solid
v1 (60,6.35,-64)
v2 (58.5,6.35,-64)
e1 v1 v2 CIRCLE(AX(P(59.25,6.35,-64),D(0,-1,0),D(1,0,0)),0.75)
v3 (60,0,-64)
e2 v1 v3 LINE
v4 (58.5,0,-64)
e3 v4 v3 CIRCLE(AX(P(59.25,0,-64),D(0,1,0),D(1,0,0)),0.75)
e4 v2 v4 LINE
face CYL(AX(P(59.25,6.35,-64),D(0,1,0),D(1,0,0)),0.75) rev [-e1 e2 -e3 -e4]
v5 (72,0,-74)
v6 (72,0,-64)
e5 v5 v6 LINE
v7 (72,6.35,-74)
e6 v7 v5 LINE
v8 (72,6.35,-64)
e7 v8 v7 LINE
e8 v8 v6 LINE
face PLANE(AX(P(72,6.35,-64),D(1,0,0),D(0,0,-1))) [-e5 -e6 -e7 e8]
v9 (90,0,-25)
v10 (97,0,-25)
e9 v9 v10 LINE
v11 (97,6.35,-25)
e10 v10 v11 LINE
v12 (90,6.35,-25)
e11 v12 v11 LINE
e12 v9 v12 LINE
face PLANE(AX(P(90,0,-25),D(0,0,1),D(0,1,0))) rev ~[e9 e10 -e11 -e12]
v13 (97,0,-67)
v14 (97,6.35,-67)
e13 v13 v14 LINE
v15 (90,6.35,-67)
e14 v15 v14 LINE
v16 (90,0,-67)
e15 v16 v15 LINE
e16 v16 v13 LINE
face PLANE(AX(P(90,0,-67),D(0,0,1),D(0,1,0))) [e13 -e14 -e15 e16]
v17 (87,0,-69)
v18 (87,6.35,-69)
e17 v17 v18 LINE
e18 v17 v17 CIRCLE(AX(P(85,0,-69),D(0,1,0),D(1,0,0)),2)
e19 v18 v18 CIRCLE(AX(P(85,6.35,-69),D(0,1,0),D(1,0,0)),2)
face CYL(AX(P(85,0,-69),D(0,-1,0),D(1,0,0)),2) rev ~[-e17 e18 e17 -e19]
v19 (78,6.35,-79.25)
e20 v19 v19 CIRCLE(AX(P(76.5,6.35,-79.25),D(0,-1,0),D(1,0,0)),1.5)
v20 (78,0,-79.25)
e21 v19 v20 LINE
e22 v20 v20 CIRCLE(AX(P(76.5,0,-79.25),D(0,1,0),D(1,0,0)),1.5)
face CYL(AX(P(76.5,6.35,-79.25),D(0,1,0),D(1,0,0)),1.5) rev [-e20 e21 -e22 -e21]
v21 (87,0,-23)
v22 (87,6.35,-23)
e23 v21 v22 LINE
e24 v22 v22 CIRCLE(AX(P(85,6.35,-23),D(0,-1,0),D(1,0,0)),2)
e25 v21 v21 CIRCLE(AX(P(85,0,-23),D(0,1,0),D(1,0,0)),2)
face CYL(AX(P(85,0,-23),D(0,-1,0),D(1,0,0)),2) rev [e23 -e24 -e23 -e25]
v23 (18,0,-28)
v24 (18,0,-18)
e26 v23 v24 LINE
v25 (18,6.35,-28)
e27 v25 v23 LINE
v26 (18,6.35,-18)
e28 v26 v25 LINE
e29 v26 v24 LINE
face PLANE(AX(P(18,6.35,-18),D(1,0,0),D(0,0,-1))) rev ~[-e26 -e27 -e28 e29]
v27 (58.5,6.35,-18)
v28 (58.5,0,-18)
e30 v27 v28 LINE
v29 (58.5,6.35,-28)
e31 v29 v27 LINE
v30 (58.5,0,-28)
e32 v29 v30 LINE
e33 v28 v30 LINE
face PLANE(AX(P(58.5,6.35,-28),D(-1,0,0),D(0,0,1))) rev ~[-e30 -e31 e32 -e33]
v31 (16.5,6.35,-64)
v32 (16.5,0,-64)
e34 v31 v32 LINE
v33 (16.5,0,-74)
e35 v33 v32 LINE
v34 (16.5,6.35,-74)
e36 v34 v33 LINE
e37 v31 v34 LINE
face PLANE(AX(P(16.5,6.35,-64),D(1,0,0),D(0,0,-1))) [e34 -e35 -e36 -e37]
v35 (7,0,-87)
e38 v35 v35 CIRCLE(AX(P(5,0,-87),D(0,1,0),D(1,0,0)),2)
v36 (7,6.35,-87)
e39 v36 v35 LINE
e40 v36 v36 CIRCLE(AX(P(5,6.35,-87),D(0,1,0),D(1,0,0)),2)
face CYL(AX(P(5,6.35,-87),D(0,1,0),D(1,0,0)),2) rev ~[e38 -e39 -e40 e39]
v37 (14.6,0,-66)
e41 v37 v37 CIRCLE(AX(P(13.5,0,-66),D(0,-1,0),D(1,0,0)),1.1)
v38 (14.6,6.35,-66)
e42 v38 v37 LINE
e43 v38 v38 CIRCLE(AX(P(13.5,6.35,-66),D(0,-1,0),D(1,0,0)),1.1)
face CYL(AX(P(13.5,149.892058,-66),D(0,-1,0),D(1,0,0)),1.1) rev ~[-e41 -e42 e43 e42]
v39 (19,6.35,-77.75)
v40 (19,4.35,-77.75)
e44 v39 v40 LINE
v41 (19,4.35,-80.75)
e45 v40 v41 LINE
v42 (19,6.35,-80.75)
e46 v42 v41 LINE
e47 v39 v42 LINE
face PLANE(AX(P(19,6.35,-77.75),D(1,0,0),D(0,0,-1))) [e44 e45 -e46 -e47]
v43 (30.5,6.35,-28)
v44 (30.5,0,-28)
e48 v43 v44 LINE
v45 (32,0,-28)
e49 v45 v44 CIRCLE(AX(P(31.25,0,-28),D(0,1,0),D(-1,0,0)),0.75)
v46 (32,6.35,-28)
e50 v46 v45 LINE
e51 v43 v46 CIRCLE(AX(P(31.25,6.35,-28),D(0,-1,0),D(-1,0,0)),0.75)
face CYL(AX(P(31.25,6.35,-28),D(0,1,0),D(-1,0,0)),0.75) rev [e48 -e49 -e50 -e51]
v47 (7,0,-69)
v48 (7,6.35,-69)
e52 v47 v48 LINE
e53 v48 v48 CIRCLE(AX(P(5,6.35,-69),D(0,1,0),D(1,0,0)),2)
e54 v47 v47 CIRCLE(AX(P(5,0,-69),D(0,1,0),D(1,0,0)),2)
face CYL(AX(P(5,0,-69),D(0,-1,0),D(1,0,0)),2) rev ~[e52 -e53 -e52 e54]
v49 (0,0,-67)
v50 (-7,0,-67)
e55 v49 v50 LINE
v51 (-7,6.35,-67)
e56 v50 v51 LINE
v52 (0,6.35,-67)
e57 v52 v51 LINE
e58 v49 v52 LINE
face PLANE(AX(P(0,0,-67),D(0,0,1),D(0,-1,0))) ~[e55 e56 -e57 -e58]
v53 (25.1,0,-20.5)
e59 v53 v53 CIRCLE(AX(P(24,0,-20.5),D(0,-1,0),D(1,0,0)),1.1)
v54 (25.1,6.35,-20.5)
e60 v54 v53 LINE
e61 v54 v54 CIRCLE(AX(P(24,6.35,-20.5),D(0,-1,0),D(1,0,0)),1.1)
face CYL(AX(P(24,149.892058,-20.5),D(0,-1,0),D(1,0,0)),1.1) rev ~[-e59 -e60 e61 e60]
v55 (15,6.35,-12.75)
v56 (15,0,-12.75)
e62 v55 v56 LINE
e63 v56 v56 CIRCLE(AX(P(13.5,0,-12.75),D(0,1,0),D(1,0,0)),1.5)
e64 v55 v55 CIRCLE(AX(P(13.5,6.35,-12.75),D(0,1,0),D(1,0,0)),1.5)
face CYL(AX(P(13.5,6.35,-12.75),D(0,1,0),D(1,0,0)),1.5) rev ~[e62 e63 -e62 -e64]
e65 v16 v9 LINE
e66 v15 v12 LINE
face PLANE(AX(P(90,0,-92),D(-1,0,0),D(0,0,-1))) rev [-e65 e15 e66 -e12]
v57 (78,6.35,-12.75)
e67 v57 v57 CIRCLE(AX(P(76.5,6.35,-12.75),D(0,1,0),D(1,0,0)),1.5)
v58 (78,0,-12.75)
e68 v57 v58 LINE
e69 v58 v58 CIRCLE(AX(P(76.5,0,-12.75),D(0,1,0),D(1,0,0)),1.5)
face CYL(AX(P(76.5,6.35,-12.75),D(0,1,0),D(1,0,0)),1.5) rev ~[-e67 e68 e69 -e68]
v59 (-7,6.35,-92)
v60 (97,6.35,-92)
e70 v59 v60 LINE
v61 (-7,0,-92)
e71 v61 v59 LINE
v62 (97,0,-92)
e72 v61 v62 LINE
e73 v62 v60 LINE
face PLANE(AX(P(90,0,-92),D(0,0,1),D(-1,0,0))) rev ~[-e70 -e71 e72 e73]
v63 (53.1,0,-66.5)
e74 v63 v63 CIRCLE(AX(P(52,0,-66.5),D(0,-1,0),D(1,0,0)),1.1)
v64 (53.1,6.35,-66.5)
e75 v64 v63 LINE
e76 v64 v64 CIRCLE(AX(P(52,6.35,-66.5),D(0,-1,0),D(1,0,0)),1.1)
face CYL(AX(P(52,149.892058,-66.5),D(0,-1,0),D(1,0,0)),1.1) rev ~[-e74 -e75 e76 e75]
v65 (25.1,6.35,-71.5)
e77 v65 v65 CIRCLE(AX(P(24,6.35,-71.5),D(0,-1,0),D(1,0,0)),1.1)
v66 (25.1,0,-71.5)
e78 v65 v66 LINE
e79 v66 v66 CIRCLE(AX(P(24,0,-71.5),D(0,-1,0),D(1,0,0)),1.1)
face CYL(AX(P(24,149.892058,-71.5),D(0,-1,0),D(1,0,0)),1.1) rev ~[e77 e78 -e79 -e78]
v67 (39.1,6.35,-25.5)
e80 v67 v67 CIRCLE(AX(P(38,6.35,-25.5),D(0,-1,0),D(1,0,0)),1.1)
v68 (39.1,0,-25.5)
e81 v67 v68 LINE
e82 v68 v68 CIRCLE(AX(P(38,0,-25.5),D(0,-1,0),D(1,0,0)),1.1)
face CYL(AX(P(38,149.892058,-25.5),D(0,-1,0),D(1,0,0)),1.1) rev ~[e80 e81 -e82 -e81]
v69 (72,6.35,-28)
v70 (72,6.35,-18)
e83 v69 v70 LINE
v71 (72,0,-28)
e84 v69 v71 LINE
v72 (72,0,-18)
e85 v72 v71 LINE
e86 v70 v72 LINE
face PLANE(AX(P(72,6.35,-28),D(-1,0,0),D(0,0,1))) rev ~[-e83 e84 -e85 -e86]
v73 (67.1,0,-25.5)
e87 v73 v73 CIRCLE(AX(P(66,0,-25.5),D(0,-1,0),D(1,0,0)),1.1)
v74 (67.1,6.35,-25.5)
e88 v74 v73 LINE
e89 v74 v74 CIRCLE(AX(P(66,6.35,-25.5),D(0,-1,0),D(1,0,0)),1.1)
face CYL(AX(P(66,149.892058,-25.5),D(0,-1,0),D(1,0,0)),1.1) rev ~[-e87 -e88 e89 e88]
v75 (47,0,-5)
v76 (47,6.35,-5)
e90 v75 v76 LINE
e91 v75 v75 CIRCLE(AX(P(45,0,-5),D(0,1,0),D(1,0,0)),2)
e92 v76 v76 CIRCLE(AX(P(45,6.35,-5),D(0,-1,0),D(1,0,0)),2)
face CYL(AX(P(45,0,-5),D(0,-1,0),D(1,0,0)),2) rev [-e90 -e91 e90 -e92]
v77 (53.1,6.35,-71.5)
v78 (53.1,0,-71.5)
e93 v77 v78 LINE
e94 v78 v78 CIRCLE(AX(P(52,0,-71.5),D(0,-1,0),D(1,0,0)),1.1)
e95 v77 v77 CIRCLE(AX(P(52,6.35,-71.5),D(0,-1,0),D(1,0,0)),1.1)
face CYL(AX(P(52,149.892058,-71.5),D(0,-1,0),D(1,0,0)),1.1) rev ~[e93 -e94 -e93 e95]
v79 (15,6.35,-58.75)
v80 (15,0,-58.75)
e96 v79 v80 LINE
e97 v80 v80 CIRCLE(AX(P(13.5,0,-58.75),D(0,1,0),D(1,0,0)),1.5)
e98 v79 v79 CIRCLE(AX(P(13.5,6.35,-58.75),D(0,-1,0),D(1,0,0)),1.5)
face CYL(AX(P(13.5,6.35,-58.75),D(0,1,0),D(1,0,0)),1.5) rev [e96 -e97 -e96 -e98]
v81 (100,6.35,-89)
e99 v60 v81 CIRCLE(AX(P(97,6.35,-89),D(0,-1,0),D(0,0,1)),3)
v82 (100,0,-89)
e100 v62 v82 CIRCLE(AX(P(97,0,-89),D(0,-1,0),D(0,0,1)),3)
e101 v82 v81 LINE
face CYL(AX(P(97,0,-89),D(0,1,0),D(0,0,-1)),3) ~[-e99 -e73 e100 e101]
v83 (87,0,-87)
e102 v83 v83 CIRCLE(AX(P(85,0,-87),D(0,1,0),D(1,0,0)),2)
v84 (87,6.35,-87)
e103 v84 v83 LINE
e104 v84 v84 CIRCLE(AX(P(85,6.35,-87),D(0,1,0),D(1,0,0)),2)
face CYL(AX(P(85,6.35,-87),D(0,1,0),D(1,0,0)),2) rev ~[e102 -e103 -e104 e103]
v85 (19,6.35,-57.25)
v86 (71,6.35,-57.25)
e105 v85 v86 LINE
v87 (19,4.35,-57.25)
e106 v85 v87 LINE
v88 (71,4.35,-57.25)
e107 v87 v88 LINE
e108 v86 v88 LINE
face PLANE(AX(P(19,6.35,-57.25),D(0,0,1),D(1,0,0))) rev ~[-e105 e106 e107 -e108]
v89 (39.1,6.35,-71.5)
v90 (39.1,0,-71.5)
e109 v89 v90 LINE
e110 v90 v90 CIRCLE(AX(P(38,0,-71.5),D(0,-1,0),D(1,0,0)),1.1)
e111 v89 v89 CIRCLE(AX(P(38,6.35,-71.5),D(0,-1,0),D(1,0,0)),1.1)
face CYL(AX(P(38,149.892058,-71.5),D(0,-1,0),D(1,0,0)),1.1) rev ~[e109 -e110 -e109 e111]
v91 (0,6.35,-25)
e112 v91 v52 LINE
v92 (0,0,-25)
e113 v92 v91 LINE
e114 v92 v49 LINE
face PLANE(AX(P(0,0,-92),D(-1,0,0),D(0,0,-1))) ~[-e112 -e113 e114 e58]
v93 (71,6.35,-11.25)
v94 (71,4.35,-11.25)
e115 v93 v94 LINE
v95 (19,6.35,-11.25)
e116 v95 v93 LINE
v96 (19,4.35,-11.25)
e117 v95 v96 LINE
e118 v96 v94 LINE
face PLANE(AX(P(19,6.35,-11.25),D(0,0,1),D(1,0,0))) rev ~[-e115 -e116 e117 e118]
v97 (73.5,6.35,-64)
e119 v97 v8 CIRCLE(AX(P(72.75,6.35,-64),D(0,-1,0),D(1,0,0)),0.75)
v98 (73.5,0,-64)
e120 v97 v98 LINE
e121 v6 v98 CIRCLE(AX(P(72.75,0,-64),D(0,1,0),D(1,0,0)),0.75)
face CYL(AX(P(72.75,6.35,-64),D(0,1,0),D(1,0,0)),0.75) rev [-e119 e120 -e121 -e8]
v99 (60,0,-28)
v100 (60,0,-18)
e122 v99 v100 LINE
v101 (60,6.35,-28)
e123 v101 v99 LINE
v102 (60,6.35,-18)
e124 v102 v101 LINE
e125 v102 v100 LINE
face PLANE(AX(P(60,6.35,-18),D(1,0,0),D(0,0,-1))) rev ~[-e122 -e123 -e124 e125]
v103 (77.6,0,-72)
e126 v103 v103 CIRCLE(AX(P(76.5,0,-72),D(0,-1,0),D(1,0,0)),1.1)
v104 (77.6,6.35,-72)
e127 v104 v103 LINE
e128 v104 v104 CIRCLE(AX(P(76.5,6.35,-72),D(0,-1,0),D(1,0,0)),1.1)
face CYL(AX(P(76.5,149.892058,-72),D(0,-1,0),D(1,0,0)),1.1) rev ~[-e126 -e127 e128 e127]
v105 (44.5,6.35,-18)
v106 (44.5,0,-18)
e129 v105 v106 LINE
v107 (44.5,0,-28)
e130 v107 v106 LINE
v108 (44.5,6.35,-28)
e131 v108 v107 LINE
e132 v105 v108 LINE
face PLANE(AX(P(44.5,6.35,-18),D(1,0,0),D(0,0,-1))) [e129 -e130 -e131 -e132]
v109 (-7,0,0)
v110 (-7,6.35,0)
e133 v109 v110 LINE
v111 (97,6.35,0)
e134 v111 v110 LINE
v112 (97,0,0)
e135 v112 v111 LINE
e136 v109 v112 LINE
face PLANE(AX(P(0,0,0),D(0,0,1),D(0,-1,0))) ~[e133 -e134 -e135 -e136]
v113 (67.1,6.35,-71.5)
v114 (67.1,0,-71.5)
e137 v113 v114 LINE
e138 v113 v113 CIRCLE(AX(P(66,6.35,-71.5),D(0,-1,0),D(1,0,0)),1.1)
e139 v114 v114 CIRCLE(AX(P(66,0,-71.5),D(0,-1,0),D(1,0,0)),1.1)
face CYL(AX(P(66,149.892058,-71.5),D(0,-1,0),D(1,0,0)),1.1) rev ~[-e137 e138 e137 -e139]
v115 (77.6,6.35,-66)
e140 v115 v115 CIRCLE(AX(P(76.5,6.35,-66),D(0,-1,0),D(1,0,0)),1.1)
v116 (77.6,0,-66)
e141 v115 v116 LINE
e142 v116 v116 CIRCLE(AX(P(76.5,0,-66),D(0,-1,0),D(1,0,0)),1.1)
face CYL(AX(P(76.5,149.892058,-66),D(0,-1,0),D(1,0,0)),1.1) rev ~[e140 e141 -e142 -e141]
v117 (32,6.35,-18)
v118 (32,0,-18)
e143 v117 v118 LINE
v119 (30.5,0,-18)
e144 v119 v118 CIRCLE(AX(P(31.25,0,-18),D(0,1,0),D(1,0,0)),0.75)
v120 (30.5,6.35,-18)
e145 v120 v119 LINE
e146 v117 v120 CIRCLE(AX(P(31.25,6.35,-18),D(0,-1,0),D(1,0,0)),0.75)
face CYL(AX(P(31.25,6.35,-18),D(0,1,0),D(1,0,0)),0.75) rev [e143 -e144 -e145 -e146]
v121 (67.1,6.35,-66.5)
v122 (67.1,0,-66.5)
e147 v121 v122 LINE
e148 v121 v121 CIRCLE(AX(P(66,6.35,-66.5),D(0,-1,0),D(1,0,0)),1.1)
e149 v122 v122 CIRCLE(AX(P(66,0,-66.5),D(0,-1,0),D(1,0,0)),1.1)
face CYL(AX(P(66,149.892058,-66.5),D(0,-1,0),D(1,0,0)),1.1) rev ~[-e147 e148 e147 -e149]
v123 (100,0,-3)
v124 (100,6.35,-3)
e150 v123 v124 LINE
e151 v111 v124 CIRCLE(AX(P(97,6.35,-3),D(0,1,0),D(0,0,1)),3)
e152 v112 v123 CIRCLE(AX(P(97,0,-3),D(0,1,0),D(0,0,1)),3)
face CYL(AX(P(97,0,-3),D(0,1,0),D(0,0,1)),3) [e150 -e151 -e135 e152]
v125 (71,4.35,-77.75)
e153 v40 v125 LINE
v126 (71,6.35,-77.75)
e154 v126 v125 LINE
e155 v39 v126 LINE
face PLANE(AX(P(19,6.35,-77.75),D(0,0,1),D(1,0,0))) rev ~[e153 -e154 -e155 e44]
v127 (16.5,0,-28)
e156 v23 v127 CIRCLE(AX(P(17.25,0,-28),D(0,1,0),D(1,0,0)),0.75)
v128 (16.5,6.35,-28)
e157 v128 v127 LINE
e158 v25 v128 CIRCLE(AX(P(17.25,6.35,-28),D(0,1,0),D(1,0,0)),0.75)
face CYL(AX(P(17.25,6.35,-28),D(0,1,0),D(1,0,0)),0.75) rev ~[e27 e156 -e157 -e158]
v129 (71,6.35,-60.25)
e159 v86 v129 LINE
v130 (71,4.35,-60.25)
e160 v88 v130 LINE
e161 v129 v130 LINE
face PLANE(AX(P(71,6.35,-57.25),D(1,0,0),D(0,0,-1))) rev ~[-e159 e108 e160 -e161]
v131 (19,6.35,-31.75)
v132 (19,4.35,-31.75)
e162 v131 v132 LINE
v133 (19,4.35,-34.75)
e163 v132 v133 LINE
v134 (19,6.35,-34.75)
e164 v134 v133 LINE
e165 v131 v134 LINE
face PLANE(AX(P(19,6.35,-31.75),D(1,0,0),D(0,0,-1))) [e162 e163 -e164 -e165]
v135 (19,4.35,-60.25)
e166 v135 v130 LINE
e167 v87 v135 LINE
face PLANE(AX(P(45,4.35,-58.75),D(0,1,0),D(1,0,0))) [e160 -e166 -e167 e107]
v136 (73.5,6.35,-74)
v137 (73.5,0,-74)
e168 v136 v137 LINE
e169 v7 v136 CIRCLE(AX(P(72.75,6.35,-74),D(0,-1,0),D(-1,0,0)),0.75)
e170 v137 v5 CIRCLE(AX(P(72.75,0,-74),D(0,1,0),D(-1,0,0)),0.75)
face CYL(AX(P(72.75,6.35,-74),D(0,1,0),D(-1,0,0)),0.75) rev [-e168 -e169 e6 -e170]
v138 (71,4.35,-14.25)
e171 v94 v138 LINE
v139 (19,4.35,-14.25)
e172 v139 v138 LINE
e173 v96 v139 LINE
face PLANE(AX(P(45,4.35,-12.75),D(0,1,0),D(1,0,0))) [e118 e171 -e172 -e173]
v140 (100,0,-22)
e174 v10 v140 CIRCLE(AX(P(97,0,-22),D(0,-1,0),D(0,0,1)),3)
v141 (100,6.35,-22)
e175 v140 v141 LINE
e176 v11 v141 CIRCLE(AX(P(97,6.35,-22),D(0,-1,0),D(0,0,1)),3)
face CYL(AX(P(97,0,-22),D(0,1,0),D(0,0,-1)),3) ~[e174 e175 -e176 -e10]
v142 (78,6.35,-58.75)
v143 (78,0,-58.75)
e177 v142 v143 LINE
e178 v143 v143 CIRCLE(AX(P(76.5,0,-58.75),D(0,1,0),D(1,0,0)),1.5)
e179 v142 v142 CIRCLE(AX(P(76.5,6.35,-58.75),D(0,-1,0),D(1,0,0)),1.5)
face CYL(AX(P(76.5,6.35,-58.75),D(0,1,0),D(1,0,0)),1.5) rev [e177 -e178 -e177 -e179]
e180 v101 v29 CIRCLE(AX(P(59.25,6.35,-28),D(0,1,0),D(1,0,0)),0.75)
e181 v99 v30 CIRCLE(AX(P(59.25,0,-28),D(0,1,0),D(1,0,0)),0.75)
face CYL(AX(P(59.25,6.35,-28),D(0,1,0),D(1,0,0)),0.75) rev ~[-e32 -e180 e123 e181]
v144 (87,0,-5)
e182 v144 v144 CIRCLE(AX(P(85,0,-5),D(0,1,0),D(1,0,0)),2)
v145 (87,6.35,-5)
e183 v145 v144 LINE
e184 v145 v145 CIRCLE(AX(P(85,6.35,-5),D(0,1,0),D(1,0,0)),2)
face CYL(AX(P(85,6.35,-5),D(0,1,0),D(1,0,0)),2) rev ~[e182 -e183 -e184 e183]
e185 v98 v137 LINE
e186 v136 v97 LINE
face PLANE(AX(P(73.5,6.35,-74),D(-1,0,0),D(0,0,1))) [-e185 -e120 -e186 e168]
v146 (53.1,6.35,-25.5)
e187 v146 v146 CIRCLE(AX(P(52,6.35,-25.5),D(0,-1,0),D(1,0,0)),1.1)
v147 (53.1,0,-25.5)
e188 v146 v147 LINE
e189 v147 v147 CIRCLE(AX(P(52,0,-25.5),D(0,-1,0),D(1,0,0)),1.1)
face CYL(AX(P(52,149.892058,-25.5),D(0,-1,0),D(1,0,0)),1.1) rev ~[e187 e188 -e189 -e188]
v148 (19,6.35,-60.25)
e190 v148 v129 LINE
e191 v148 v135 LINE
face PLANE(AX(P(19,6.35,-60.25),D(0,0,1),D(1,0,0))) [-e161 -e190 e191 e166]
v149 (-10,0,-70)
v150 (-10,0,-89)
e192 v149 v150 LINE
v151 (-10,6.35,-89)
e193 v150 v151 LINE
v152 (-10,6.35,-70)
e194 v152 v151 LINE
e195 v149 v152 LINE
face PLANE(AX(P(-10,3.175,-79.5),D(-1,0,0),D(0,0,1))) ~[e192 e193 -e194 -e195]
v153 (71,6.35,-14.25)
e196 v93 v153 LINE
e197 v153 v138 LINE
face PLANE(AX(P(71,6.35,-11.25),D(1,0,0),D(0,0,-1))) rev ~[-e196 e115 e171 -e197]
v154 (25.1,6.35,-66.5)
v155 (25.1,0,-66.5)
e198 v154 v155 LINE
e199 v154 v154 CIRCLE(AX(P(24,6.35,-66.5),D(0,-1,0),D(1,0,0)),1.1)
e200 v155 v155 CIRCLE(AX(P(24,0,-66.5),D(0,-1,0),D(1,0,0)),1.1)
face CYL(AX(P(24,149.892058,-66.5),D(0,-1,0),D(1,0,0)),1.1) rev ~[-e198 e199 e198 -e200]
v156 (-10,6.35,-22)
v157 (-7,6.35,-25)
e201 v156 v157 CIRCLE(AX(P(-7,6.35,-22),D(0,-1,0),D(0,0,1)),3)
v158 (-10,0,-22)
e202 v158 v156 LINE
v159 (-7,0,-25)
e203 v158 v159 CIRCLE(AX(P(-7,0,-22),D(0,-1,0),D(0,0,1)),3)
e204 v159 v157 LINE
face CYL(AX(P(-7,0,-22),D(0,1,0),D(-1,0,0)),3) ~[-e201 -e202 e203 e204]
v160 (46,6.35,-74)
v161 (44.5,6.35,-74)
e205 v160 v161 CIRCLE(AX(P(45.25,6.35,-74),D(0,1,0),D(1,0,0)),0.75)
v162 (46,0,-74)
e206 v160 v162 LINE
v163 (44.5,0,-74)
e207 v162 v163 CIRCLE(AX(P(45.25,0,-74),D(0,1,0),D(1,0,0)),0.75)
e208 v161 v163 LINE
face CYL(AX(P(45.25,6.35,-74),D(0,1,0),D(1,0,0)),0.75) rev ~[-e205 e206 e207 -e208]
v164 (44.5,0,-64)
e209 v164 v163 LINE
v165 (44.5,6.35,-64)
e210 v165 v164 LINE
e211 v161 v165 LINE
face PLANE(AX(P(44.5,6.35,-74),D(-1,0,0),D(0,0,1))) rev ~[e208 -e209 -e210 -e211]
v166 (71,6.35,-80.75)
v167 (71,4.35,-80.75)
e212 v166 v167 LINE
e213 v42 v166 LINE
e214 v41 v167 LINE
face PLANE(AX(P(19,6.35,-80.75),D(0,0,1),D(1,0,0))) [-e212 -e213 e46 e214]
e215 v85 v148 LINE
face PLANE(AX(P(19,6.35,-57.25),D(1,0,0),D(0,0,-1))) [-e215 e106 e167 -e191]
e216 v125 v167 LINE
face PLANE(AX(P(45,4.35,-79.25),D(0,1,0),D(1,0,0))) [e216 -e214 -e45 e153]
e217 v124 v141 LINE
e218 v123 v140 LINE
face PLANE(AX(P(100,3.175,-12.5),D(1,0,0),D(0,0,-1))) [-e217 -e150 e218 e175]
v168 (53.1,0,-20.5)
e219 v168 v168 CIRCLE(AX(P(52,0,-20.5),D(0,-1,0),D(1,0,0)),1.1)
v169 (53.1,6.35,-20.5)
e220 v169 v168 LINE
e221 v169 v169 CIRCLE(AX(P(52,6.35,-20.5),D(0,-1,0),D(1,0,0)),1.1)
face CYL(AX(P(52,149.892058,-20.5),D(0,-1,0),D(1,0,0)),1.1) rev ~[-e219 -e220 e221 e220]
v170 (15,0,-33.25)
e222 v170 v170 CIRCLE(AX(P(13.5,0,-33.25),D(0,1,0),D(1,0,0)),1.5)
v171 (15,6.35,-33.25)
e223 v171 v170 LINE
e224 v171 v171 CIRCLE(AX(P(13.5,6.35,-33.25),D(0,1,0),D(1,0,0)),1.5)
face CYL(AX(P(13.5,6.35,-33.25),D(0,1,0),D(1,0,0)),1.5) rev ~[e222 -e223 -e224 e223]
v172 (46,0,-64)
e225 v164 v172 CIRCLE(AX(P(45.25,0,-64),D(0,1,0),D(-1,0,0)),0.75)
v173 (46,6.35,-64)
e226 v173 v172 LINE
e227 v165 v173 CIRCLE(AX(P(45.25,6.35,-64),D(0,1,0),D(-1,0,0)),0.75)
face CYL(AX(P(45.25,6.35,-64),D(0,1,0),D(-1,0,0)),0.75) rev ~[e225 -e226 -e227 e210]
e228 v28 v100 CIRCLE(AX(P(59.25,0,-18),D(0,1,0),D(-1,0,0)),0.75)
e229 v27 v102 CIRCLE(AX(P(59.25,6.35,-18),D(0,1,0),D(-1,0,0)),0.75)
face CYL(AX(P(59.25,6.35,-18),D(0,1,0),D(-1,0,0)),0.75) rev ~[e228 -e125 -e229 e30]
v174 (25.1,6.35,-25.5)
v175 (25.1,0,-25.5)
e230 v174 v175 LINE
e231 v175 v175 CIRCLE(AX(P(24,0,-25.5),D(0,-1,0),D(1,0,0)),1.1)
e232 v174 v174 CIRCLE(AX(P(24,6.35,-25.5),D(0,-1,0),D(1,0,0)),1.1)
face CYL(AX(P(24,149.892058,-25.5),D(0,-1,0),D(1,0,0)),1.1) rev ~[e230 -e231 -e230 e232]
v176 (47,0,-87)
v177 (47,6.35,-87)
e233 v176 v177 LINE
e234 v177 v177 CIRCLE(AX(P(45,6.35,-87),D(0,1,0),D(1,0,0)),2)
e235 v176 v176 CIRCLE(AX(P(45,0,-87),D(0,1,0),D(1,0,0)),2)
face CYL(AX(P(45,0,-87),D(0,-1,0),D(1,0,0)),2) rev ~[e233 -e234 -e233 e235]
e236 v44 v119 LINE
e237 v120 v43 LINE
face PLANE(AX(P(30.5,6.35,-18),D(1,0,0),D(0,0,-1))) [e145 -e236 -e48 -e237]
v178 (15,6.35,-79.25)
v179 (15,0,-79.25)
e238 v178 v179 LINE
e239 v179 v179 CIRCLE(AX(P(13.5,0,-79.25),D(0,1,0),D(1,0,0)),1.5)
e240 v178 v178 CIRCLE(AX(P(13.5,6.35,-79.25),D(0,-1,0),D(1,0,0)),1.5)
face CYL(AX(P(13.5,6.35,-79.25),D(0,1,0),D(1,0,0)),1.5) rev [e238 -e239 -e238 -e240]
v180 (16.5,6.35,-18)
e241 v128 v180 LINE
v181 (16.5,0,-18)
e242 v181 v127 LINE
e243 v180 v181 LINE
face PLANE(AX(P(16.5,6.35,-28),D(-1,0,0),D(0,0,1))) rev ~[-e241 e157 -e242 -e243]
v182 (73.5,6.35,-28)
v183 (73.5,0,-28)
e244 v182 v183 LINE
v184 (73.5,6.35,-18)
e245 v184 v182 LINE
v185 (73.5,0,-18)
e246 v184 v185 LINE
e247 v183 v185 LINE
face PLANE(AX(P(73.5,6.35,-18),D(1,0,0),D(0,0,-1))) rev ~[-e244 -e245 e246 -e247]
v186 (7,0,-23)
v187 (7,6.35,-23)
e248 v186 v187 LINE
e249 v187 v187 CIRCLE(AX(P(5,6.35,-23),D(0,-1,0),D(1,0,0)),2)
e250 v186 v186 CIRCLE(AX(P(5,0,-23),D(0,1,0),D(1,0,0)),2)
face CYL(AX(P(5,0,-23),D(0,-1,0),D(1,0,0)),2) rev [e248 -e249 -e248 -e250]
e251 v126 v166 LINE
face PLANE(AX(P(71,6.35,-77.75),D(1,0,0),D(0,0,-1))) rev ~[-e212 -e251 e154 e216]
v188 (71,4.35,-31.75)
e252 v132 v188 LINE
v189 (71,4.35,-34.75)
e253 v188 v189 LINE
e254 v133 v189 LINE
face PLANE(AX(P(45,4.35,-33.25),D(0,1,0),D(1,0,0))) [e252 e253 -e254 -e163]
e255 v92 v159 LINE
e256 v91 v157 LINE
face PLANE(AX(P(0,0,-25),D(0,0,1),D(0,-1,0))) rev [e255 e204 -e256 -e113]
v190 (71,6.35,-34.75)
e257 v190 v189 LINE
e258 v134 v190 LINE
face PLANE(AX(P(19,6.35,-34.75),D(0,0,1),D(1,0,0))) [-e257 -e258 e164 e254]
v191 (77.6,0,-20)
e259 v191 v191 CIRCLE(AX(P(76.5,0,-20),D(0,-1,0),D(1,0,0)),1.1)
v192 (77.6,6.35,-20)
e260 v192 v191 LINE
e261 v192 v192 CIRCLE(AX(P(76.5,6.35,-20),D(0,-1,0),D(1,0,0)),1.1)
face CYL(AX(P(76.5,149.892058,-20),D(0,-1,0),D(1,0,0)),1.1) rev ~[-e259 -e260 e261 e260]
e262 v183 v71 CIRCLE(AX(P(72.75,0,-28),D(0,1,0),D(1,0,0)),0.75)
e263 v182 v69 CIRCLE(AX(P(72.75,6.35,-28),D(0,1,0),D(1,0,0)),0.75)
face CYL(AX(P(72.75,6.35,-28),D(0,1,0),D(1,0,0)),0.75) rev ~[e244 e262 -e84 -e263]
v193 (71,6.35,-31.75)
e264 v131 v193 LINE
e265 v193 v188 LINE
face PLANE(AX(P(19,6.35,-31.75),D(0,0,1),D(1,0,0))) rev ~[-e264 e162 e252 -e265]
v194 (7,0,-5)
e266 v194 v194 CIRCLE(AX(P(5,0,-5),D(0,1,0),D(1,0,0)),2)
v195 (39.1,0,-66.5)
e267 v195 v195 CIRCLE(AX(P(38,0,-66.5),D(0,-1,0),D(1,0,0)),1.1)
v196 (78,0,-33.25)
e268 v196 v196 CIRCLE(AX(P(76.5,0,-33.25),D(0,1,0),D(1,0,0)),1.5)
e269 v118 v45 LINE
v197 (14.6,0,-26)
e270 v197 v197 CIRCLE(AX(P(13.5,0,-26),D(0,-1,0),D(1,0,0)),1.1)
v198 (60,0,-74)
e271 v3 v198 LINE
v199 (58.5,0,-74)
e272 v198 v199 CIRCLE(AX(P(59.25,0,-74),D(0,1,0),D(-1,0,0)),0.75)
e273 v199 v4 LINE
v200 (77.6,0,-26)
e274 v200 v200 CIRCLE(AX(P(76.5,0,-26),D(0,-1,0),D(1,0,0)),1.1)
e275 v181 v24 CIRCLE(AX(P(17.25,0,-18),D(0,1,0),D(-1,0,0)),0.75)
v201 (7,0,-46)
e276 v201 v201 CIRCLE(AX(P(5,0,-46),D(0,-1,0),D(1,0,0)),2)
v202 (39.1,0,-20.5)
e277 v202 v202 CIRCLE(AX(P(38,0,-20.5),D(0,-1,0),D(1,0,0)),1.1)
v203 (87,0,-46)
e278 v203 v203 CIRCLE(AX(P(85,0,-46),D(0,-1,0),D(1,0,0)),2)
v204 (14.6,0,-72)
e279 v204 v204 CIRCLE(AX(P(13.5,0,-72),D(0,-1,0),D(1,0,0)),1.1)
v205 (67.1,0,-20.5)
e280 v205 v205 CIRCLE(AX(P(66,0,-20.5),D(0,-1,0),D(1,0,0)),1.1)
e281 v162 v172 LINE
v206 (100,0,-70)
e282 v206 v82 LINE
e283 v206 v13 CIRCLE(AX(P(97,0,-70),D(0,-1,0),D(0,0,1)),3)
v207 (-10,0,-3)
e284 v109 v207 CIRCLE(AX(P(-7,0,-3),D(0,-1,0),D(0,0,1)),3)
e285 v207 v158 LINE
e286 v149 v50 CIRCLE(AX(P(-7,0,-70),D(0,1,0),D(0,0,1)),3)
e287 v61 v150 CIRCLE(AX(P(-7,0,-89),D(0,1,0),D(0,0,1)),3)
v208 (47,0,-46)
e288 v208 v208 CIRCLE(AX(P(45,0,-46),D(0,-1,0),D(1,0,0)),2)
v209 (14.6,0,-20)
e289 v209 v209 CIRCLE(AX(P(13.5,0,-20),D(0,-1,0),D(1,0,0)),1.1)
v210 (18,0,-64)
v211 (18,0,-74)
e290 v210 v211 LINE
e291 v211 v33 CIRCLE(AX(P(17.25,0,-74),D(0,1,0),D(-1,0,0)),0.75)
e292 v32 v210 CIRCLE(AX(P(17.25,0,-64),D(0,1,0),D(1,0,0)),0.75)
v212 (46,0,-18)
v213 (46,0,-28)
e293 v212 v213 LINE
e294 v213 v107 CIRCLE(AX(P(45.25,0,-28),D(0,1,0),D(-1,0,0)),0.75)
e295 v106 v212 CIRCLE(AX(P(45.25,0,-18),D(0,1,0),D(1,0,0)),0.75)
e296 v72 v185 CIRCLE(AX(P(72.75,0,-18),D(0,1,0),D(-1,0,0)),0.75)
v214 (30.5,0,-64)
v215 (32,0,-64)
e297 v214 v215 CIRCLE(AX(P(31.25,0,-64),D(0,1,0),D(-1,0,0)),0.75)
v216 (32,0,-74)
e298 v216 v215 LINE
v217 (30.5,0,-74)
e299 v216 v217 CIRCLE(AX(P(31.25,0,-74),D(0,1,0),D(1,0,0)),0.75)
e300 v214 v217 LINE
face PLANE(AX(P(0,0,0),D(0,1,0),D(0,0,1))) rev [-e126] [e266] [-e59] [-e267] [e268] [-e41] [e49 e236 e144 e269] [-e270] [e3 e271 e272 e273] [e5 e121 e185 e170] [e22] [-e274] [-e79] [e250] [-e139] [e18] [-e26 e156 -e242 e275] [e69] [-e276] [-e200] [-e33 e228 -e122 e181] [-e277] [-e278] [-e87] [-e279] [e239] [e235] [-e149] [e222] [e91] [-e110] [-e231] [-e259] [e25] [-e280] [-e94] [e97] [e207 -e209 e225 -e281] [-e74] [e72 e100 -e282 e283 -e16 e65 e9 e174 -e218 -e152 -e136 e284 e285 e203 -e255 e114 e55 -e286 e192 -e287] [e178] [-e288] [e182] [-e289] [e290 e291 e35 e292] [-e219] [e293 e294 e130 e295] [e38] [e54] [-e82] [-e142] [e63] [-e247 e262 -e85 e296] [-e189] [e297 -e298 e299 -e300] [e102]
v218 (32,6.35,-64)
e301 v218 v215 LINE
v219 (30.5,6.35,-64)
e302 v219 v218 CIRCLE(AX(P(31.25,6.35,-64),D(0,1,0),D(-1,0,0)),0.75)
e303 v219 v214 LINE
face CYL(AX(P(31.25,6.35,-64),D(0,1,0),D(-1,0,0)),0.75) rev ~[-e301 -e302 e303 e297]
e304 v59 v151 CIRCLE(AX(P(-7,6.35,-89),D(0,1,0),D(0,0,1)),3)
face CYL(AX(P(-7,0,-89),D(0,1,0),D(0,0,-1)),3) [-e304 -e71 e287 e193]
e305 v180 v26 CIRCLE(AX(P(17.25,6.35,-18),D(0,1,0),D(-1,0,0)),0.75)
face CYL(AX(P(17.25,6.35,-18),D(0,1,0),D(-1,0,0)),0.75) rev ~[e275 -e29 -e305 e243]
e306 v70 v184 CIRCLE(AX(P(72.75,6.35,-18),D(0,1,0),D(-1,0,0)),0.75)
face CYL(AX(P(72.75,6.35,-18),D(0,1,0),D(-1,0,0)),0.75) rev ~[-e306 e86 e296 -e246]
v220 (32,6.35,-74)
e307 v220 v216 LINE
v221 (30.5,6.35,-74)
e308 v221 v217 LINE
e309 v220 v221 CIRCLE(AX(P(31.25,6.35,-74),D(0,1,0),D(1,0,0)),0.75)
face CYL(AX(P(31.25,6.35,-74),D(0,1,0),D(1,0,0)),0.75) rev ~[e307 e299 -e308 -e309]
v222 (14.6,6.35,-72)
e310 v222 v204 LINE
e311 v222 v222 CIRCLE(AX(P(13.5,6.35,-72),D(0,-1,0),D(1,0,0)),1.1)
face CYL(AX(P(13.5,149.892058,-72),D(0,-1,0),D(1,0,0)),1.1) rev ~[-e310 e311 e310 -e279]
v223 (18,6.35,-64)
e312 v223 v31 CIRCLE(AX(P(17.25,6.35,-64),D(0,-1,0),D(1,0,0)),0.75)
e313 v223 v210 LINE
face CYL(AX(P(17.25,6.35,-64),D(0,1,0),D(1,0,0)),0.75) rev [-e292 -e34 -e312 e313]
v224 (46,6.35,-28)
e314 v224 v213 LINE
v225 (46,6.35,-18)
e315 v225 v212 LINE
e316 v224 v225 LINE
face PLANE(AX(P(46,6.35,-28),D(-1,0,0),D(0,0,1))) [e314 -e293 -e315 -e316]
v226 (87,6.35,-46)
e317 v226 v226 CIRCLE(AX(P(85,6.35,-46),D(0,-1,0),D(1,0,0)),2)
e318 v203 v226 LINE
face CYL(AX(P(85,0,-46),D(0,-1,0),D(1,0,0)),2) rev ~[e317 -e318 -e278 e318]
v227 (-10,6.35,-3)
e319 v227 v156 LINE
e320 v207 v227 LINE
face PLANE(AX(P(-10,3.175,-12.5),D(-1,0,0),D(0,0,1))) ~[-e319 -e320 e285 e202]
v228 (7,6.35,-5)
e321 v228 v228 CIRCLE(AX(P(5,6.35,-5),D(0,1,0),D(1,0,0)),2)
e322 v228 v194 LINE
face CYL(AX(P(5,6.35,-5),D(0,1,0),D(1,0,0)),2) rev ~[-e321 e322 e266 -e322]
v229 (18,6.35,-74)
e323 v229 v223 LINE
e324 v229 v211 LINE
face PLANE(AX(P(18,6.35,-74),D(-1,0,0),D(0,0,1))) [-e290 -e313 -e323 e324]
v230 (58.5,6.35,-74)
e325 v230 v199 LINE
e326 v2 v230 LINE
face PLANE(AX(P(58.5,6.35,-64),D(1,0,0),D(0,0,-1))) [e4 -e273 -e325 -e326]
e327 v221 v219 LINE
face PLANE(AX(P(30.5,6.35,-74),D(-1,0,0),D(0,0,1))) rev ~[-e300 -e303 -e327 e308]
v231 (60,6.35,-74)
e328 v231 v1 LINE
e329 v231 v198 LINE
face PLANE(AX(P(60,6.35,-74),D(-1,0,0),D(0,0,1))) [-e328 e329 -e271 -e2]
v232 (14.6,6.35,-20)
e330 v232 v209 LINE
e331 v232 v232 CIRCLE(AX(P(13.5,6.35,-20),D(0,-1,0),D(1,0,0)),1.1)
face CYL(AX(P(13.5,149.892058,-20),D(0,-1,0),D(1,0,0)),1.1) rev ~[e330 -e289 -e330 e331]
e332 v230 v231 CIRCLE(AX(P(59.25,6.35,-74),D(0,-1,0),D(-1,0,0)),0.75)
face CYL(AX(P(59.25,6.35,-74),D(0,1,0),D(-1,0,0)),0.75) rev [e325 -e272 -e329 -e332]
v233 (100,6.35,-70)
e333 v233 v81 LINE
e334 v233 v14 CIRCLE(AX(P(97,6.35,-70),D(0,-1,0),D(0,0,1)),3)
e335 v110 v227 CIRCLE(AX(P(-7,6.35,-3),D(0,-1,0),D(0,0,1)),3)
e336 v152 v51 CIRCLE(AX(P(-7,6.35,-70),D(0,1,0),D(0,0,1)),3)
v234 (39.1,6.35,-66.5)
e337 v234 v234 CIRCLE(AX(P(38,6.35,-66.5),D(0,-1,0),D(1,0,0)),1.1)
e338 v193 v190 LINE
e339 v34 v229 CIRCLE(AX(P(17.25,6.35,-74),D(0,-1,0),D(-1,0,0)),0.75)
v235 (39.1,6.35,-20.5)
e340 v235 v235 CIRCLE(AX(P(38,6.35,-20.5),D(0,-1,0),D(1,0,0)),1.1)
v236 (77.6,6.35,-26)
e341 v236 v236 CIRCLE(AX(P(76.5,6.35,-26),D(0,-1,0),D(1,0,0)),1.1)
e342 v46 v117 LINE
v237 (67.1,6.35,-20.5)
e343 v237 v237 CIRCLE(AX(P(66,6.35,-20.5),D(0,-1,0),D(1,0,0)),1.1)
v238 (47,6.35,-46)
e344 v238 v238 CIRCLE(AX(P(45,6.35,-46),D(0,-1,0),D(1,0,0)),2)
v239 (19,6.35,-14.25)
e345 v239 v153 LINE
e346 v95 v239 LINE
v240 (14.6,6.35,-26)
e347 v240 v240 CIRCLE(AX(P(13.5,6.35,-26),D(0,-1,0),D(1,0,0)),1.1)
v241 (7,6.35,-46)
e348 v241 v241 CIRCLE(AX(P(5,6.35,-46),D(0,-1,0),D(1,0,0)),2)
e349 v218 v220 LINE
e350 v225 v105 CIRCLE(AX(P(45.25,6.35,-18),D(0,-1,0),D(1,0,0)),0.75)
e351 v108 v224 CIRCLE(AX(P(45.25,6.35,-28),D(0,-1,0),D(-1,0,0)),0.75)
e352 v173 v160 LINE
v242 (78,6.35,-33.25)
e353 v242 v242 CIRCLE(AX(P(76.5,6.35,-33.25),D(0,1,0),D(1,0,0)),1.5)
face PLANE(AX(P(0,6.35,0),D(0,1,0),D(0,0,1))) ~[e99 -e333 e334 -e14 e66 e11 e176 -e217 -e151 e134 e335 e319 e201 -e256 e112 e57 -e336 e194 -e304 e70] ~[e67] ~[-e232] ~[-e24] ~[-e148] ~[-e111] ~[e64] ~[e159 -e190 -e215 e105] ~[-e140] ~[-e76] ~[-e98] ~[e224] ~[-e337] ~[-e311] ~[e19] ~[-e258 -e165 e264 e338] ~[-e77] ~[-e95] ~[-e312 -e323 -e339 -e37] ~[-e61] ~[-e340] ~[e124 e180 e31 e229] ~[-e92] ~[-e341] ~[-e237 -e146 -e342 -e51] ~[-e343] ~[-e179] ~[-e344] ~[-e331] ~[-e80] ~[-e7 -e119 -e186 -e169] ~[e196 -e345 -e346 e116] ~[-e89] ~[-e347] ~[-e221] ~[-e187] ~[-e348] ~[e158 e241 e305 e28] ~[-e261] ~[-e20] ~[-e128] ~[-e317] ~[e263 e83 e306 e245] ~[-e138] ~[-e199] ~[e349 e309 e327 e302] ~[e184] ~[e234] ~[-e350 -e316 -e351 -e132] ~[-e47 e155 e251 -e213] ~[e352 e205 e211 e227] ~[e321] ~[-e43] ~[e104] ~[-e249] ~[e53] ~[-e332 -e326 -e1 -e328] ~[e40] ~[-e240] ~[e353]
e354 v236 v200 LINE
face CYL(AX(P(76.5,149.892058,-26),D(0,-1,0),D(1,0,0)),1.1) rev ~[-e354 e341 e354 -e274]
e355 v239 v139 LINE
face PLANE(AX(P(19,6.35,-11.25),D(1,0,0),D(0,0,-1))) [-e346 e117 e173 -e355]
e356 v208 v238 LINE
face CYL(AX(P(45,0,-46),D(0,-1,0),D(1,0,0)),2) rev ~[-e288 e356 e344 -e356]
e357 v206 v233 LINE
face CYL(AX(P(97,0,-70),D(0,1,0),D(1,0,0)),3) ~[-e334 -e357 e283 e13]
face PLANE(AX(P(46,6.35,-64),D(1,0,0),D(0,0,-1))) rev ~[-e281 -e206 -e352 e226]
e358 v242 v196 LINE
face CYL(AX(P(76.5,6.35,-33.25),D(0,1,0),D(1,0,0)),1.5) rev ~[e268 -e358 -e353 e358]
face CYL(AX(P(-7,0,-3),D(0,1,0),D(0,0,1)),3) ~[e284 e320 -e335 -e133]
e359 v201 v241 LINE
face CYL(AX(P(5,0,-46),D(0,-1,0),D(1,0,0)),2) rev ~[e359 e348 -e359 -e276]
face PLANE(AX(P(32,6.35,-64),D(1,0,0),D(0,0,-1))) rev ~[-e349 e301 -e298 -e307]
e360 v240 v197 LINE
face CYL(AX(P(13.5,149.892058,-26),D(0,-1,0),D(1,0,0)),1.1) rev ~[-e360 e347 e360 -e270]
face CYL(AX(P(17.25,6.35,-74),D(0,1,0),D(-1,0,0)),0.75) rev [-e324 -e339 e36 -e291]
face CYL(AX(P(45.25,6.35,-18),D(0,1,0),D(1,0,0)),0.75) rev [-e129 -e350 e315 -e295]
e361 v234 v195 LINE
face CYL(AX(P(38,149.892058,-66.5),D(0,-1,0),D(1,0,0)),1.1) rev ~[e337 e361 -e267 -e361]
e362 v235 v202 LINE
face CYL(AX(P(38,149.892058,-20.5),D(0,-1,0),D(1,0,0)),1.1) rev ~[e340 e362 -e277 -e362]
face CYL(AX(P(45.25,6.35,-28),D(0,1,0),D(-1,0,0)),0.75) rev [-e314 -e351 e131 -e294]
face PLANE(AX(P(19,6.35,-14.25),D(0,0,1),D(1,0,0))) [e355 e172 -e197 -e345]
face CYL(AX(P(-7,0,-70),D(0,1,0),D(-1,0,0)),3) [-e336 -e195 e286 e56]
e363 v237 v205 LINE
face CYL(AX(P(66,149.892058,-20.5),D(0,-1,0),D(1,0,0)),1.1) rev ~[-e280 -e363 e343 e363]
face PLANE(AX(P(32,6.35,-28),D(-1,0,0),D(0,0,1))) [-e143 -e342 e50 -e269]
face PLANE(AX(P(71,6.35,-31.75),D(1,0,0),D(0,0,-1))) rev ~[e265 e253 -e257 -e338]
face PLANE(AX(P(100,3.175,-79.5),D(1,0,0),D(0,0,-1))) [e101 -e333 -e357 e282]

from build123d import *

# Parameters (mm, degrees)
SKETCH1_W               = 90
SKETCH1_H               = 46
SKETCH1_R               = 2
BOSS_EXTRUDE1_DEPTH     = 6.35
M2_CLEARANCE_HOLE1_D    = 2.2
CUT_EXTRUDE1_DEPTH      = 7.35
CUT_EXTRUDE2_DEPTH      = 7.35
SKETCH8_W               = 25
SKETCH8_H               = 6.35
BOSS_EXTRUDE2_DEPTH     = 10
FILLET1_R               = 3
MIRROR5_COPY_1_SKETCH_W = 90
MIRROR5_COPY_1_SKETCH_H = 46
MIRROR5_COPY_1_SKETCH_R = 2
MIRROR5_COPY_1_DEPTH    = 6.35
MIRROR5_COPY_2_D        = 2.2
MIRROR5_COPY_3_DEPTH    = 7.35
MIRROR5_COPY_4_DEPTH    = 7.35
MIRROR5_COPY_5_D        = 2.2
MIRROR5_COPY_6_DEPTH    = 7.35
MIRROR5_COPY_7_DEPTH    = 7.35
FILLET1_OF_MIRROR5_R    = 3
SKETCH9_R               = 2
CUT_EXTRUDE3_DEPTH      = 10
SKETCH10_R              = 2
CUT_EXTRUDE4_DEPTH      = 6.35
SKETCH12_R              = 1.5
CUT_EXTRUDE6_DEPTH      = 7.35
SKETCH11_W              = 52
SKETCH11_H              = 3
CUT_EXTRUDE7_DEPTH      = 2


with BuildPart() as part:
    # Sketch1 → Boss-Extrude1 (new body)
    with BuildSketch(Plane(origin=(0, 0, 0), x_dir=(1, 0, 0), z_dir=(0, 1, 0))):
        with Locations((45, 23)):
            Rectangle(SKETCH1_W, SKETCH1_H)
        with Locations((45, 5)):
            Circle(SKETCH1_R, mode=Mode.SUBTRACT)
        with Locations((5, 23)):
            Circle(SKETCH1_R, mode=Mode.SUBTRACT)
        with Locations((85, 23)):
            Circle(SKETCH1_R, mode=Mode.SUBTRACT)
    boss_extrude1 = extrude(amount=BOSS_EXTRUDE1_DEPTH)

    # M2 Clearance Hole1 (through all)
    with Locations(Plane(origin=(0, 6.35, 0), x_dir=(1, 0, 0), z_dir=(0, 1, 0))):
        with Locations((13.5, 26), (13.5, 20), (24, 25.5), (24, 20.5), (38, 25.5), (38, 20.5), (52, 25.5), (52, 20.5), (66, 25.5), (66, 20.5), (76.5, 26), (76.5, 20)):
            m2_clearance_hole1 = Hole(M2_CLEARANCE_HOLE1_D / 2)

    # Sketch6 → Cut-Extrude1 (cut, through all)
    with BuildSketch(Plane(origin=(0, 6.35, 0), x_dir=(1, 0, 0), z_dir=(0, 1, 0))):
        with BuildLine():
            Line((18, 28), (18, 18))
            ThreePointArc((18, 18), (17.25, 17.25), (16.5, 18))
            Line((16.5, 18), (16.5, 28))
            ThreePointArc((16.5, 28), (17.25, 28.75), (18, 28))
        make_face()
    cut_extrude1 = extrude(amount=-CUT_EXTRUDE1_DEPTH, mode=Mode.SUBTRACT)

    # Sketch7 → Cut-Extrude2 (cut, through all)
    with BuildSketch(Plane(origin=(0, 6.35, 0), x_dir=(1, 0, 0), z_dir=(0, 1, 0))):
        with BuildLine():
            Line((31.5, 28), (31.5, 18))
            ThreePointArc((31.5, 18), (30.75, 17.25), (30, 18))
            Line((30, 18), (30, 28))
            ThreePointArc((30, 28), (30.75, 28.75), (31.5, 28))
        make_face()
        with BuildLine():
            Line((44, 28), (44, 18))
            ThreePointArc((44, 18), (44.75, 17.25), (45.5, 18))
            Line((45.5, 18), (45.5, 28))
            ThreePointArc((45.5, 28), (44.75, 28.75), (44, 28))
        make_face()
        with BuildLine():
            Line((58, 28), (58, 18))
            ThreePointArc((58, 18), (58.75, 17.25), (59.5, 18))
            Line((59.5, 18), (59.5, 28))
            ThreePointArc((59.5, 28), (58.75, 28.75), (58, 28))
        make_face()
        with BuildLine():
            Line((73.5, 28), (73.5, 18))
            ThreePointArc((73.5, 18), (72.75, 17.25), (72, 18))
            Line((72, 18), (72, 28))
            ThreePointArc((72, 28), (72.75, 28.75), (73.5, 28))
        make_face()
    cut_extrude2 = extrude(amount=-CUT_EXTRUDE2_DEPTH, mode=Mode.SUBTRACT)

    # Mirror1: Boss-Extrude1, M2 Clearance Hole1, Cut-Extrude1, Cut-Extrude2 across plane
    add(boss_extrude1.mirror(Plane(origin=(0, 0, -46), x_dir=(1, 0, 0), z_dir=(0, 0, -1))))
    add(m2_clearance_hole1.mirror(Plane(origin=(0, 0, -46), x_dir=(1, 0, 0), z_dir=(0, 0, -1))), mode=Mode.SUBTRACT)
    add(cut_extrude1.mirror(Plane(origin=(0, 0, -46), x_dir=(1, 0, 0), z_dir=(0, 0, -1))), mode=Mode.SUBTRACT)
    add(cut_extrude2.mirror(Plane(origin=(0, 0, -46), x_dir=(1, 0, 0), z_dir=(0, 0, -1))), mode=Mode.SUBTRACT)

    # Sketch8 → Boss-Extrude2 (add)
    with BuildSketch(Plane(origin=(90, 0, 0), x_dir=(0, 0, -1), z_dir=(1, 0, 0))):
        with Locations((12.5, 3.175)):
            Rectangle(SKETCH8_W, SKETCH8_H)
        with Locations((79.5, 3.175)):
            Rectangle(SKETCH8_W, SKETCH8_H)
    boss_extrude2 = extrude(amount=BOSS_EXTRUDE2_DEPTH)

    # Fillet1
    fillet1_edges = [part.edges().sort_by_distance(p)[0] for p in [
        (100, 3.175, 0),
        (100, 3.175, -25),
        (100, 3.175, -92),
        (100, 3.175, -67),
    ]]
    fillet(fillet1_edges, radius=FILLET1_R)

    # Mirror5: Boss-Extrude1, Boss-Extrude2 across plane
    add(boss_extrude1.mirror(Plane.ZY.offset(-45)))
    add(boss_extrude2.mirror(Plane.ZY.offset(-45)))

    # Mirror5 copy 1 sketch → Mirror5 copy 1 (add)
    with BuildSketch(Plane(origin=(90, 0, -92), x_dir=(-1, 0, 0), z_dir=(0, 1, 0))):
        with Locations((45, 23)):
            Rectangle(MIRROR5_COPY_1_SKETCH_W, MIRROR5_COPY_1_SKETCH_H)
        with Locations((45, 5)):
            Circle(MIRROR5_COPY_1_SKETCH_R, mode=Mode.SUBTRACT)
        with Locations((5, 23)):
            Circle(MIRROR5_COPY_1_SKETCH_R, mode=Mode.SUBTRACT)
        with Locations((85, 23)):
            Circle(MIRROR5_COPY_1_SKETCH_R, mode=Mode.SUBTRACT)
    extrude(amount=MIRROR5_COPY_1_DEPTH)

    # Mirror5 copy 2 (through all)
    with Locations(Plane(origin=(90, 6.35, -92), x_dir=(-1, 0, 0), z_dir=(0, 1, 0))):
        with Locations((13.5, 26), (13.5, 20), (24, 25.5), (24, 20.5), (38, 25.5), (38, 20.5), (52, 25.5), (52, 20.5), (66, 25.5), (66, 20.5), (76.5, 26), (76.5, 20)):
            Hole(MIRROR5_COPY_2_D / 2)

    # Mirror5 copy 3 sketch → Mirror5 copy 3 (cut, through all)
    with BuildSketch(Plane(origin=(90, 6.35, -92), x_dir=(-1, 0, 0), z_dir=(0, 1, 0))):
        with BuildLine():
            Line((18, 28), (18, 18))
            ThreePointArc((18, 18), (17.25, 17.25), (16.5, 18))
            Line((16.5, 18), (16.5, 28))
            ThreePointArc((16.5, 28), (17.25, 28.75), (18, 28))
        make_face()
    extrude(amount=-MIRROR5_COPY_3_DEPTH, mode=Mode.SUBTRACT)

    # Mirror5 copy 4 sketch → Mirror5 copy 4 (cut, through all)
    with BuildSketch(Plane(origin=(90, 6.35, -92), x_dir=(-1, 0, 0), z_dir=(0, 1, 0))):
        with BuildLine():
            Line((31.5, 28), (31.5, 18))
            ThreePointArc((31.5, 18), (30.75, 17.25), (30, 18))
            Line((30, 18), (30, 28))
            ThreePointArc((30, 28), (30.75, 28.75), (31.5, 28))
        make_face()
        with BuildLine():
            Line((44, 28), (44, 18))
            ThreePointArc((44, 18), (44.75, 17.25), (45.5, 18))
            Line((45.5, 18), (45.5, 28))
            ThreePointArc((45.5, 28), (44.75, 28.75), (44, 28))
        make_face()
        with BuildLine():
            Line((58, 28), (58, 18))
            ThreePointArc((58, 18), (58.75, 17.25), (59.5, 18))
            Line((59.5, 18), (59.5, 28))
            ThreePointArc((59.5, 28), (58.75, 28.75), (58, 28))
        make_face()
        with BuildLine():
            Line((73.5, 28), (73.5, 18))
            ThreePointArc((73.5, 18), (72.75, 17.25), (72, 18))
            Line((72, 18), (72, 28))
            ThreePointArc((72, 28), (72.75, 28.75), (73.5, 28))
        make_face()
    extrude(amount=-MIRROR5_COPY_4_DEPTH, mode=Mode.SUBTRACT)

    # Mirror5 copy 5 (through all)
    with Locations(Plane(origin=(90, 6.35, 0), x_dir=(-1, 0, 0), z_dir=(0, 1, 0))):
        with Locations((13.5, -26), (13.5, -20), (24, -25.5), (24, -20.5), (38, -25.5), (38, -20.5), (52, -25.5), (52, -20.5), (66, -25.5), (66, -20.5), (76.5, -26), (76.5, -20)):
            Hole(MIRROR5_COPY_5_D / 2)

    # Mirror5 copy 6 sketch → Mirror5 copy 6 (cut, through all)
    with BuildSketch(Plane(origin=(90, 6.35, 0), x_dir=(-1, 0, 0), z_dir=(0, 1, 0))):
        with BuildLine():
            Line((18, -28), (18, -18))
            ThreePointArc((18, -18), (17.25, -17.25), (16.5, -18))
            Line((16.5, -18), (16.5, -28))
            ThreePointArc((16.5, -28), (17.25, -28.75), (18, -28))
        make_face()
    extrude(amount=-MIRROR5_COPY_6_DEPTH, mode=Mode.SUBTRACT)

    # Mirror5 copy 7 sketch → Mirror5 copy 7 (cut, through all)
    with BuildSketch(Plane(origin=(90, 6.35, 0), x_dir=(-1, 0, 0), z_dir=(0, 1, 0))):
        with BuildLine():
            Line((31.5, -28), (31.5, -18))
            ThreePointArc((31.5, -18), (30.75, -17.25), (30, -18))
            Line((30, -18), (30, -28))
            ThreePointArc((30, -28), (30.75, -28.75), (31.5, -28))
        make_face()
        with BuildLine():
            Line((44, -28), (44, -18))
            ThreePointArc((44, -18), (44.75, -17.25), (45.5, -18))
            Line((45.5, -18), (45.5, -28))
            ThreePointArc((45.5, -28), (44.75, -28.75), (44, -28))
        make_face()
        with BuildLine():
            Line((58, -28), (58, -18))
            ThreePointArc((58, -18), (58.75, -17.25), (59.5, -18))
            Line((59.5, -18), (59.5, -28))
            ThreePointArc((59.5, -28), (58.75, -28.75), (58, -28))
        make_face()
        with BuildLine():
            Line((73.5, -28), (73.5, -18))
            ThreePointArc((73.5, -18), (72.75, -17.25), (72, -18))
            Line((72, -18), (72, -28))
            ThreePointArc((72, -28), (72.75, -28.75), (73.5, -28))
        make_face()
    extrude(amount=-MIRROR5_COPY_7_DEPTH, mode=Mode.SUBTRACT)

    # Fillet1 of Mirror5
    fillet1_of_mirror5_edges = [part.edges().sort_by_distance(p)[0] for p in [
        (-10, 3.175, 0),
        (-10, 3.175, -25),
        (-10, 3.175, -92),
        (-10, 3.175, -67),
    ]]
    fillet(fillet1_of_mirror5_edges, radius=FILLET1_OF_MIRROR5_R)

    # Sketch9 → Cut-Extrude3 (cut)
    with BuildSketch(Plane(origin=(0, 6.35, 0), x_dir=(1, 0, 0), z_dir=(0, 1, 0))):
        with Locations((5, 5)):
            Circle(SKETCH9_R)
        with Locations((85, 5)):
            Circle(SKETCH9_R)
        with Locations((85, 87)):
            Circle(SKETCH9_R)
        with Locations((5, 87)):
            Circle(SKETCH9_R)
    extrude(amount=-CUT_EXTRUDE3_DEPTH, mode=Mode.SUBTRACT)

    # Sketch10 → Cut-Extrude4 (cut)
    with BuildSketch(Plane.XZ):
        with Locations((85, -46)):
            Circle(SKETCH10_R)
        with Locations((45, -46)):
            Circle(SKETCH10_R)
        with Locations((5, -46)):
            Circle(SKETCH10_R)
    extrude(amount=-CUT_EXTRUDE4_DEPTH, mode=Mode.SUBTRACT)

    # Sketch12 → Cut-Extrude6 (cut, through all)
    with BuildSketch(Plane(origin=(0, 6.35, 0), x_dir=(1, 0, 0), z_dir=(0, 1, 0))):
        with Locations((13.5, 12.75)):
            Circle(SKETCH12_R)
        with Locations((13.5, 33.25)):
            Circle(SKETCH12_R)
        with Locations((76.5, 33.25)):
            Circle(SKETCH12_R)
        with Locations((76.5, 12.75)):
            Circle(SKETCH12_R)
    cut_extrude6 = extrude(amount=-CUT_EXTRUDE6_DEPTH, mode=Mode.SUBTRACT)

    # Mirror7: Cut-Extrude6 across plane
    add(cut_extrude6.mirror(Plane(origin=(0, 0, -46), x_dir=(1, 0, 0), z_dir=(0, 0, -1))), mode=Mode.SUBTRACT)

    # Sketch11 → Cut-Extrude7 (cut)
    with BuildSketch(Plane(origin=(0, 6.35, 0), x_dir=(1, 0, 0), z_dir=(0, 1, 0))):
        with Locations((45, 12.75)):
            Rectangle(SKETCH11_W, SKETCH11_H)
        with Locations((45, 33.25)):
            Rectangle(SKETCH11_W, SKETCH11_H)
        with Locations((45, 58.75)):
            Rectangle(SKETCH11_W, SKETCH11_H)
        with Locations((45, 79.25)):
            Rectangle(SKETCH11_W, SKETCH11_H)
    extrude(amount=-CUT_EXTRUDE7_DEPTH, mode=Mode.SUBTRACT)


solid = part.part
